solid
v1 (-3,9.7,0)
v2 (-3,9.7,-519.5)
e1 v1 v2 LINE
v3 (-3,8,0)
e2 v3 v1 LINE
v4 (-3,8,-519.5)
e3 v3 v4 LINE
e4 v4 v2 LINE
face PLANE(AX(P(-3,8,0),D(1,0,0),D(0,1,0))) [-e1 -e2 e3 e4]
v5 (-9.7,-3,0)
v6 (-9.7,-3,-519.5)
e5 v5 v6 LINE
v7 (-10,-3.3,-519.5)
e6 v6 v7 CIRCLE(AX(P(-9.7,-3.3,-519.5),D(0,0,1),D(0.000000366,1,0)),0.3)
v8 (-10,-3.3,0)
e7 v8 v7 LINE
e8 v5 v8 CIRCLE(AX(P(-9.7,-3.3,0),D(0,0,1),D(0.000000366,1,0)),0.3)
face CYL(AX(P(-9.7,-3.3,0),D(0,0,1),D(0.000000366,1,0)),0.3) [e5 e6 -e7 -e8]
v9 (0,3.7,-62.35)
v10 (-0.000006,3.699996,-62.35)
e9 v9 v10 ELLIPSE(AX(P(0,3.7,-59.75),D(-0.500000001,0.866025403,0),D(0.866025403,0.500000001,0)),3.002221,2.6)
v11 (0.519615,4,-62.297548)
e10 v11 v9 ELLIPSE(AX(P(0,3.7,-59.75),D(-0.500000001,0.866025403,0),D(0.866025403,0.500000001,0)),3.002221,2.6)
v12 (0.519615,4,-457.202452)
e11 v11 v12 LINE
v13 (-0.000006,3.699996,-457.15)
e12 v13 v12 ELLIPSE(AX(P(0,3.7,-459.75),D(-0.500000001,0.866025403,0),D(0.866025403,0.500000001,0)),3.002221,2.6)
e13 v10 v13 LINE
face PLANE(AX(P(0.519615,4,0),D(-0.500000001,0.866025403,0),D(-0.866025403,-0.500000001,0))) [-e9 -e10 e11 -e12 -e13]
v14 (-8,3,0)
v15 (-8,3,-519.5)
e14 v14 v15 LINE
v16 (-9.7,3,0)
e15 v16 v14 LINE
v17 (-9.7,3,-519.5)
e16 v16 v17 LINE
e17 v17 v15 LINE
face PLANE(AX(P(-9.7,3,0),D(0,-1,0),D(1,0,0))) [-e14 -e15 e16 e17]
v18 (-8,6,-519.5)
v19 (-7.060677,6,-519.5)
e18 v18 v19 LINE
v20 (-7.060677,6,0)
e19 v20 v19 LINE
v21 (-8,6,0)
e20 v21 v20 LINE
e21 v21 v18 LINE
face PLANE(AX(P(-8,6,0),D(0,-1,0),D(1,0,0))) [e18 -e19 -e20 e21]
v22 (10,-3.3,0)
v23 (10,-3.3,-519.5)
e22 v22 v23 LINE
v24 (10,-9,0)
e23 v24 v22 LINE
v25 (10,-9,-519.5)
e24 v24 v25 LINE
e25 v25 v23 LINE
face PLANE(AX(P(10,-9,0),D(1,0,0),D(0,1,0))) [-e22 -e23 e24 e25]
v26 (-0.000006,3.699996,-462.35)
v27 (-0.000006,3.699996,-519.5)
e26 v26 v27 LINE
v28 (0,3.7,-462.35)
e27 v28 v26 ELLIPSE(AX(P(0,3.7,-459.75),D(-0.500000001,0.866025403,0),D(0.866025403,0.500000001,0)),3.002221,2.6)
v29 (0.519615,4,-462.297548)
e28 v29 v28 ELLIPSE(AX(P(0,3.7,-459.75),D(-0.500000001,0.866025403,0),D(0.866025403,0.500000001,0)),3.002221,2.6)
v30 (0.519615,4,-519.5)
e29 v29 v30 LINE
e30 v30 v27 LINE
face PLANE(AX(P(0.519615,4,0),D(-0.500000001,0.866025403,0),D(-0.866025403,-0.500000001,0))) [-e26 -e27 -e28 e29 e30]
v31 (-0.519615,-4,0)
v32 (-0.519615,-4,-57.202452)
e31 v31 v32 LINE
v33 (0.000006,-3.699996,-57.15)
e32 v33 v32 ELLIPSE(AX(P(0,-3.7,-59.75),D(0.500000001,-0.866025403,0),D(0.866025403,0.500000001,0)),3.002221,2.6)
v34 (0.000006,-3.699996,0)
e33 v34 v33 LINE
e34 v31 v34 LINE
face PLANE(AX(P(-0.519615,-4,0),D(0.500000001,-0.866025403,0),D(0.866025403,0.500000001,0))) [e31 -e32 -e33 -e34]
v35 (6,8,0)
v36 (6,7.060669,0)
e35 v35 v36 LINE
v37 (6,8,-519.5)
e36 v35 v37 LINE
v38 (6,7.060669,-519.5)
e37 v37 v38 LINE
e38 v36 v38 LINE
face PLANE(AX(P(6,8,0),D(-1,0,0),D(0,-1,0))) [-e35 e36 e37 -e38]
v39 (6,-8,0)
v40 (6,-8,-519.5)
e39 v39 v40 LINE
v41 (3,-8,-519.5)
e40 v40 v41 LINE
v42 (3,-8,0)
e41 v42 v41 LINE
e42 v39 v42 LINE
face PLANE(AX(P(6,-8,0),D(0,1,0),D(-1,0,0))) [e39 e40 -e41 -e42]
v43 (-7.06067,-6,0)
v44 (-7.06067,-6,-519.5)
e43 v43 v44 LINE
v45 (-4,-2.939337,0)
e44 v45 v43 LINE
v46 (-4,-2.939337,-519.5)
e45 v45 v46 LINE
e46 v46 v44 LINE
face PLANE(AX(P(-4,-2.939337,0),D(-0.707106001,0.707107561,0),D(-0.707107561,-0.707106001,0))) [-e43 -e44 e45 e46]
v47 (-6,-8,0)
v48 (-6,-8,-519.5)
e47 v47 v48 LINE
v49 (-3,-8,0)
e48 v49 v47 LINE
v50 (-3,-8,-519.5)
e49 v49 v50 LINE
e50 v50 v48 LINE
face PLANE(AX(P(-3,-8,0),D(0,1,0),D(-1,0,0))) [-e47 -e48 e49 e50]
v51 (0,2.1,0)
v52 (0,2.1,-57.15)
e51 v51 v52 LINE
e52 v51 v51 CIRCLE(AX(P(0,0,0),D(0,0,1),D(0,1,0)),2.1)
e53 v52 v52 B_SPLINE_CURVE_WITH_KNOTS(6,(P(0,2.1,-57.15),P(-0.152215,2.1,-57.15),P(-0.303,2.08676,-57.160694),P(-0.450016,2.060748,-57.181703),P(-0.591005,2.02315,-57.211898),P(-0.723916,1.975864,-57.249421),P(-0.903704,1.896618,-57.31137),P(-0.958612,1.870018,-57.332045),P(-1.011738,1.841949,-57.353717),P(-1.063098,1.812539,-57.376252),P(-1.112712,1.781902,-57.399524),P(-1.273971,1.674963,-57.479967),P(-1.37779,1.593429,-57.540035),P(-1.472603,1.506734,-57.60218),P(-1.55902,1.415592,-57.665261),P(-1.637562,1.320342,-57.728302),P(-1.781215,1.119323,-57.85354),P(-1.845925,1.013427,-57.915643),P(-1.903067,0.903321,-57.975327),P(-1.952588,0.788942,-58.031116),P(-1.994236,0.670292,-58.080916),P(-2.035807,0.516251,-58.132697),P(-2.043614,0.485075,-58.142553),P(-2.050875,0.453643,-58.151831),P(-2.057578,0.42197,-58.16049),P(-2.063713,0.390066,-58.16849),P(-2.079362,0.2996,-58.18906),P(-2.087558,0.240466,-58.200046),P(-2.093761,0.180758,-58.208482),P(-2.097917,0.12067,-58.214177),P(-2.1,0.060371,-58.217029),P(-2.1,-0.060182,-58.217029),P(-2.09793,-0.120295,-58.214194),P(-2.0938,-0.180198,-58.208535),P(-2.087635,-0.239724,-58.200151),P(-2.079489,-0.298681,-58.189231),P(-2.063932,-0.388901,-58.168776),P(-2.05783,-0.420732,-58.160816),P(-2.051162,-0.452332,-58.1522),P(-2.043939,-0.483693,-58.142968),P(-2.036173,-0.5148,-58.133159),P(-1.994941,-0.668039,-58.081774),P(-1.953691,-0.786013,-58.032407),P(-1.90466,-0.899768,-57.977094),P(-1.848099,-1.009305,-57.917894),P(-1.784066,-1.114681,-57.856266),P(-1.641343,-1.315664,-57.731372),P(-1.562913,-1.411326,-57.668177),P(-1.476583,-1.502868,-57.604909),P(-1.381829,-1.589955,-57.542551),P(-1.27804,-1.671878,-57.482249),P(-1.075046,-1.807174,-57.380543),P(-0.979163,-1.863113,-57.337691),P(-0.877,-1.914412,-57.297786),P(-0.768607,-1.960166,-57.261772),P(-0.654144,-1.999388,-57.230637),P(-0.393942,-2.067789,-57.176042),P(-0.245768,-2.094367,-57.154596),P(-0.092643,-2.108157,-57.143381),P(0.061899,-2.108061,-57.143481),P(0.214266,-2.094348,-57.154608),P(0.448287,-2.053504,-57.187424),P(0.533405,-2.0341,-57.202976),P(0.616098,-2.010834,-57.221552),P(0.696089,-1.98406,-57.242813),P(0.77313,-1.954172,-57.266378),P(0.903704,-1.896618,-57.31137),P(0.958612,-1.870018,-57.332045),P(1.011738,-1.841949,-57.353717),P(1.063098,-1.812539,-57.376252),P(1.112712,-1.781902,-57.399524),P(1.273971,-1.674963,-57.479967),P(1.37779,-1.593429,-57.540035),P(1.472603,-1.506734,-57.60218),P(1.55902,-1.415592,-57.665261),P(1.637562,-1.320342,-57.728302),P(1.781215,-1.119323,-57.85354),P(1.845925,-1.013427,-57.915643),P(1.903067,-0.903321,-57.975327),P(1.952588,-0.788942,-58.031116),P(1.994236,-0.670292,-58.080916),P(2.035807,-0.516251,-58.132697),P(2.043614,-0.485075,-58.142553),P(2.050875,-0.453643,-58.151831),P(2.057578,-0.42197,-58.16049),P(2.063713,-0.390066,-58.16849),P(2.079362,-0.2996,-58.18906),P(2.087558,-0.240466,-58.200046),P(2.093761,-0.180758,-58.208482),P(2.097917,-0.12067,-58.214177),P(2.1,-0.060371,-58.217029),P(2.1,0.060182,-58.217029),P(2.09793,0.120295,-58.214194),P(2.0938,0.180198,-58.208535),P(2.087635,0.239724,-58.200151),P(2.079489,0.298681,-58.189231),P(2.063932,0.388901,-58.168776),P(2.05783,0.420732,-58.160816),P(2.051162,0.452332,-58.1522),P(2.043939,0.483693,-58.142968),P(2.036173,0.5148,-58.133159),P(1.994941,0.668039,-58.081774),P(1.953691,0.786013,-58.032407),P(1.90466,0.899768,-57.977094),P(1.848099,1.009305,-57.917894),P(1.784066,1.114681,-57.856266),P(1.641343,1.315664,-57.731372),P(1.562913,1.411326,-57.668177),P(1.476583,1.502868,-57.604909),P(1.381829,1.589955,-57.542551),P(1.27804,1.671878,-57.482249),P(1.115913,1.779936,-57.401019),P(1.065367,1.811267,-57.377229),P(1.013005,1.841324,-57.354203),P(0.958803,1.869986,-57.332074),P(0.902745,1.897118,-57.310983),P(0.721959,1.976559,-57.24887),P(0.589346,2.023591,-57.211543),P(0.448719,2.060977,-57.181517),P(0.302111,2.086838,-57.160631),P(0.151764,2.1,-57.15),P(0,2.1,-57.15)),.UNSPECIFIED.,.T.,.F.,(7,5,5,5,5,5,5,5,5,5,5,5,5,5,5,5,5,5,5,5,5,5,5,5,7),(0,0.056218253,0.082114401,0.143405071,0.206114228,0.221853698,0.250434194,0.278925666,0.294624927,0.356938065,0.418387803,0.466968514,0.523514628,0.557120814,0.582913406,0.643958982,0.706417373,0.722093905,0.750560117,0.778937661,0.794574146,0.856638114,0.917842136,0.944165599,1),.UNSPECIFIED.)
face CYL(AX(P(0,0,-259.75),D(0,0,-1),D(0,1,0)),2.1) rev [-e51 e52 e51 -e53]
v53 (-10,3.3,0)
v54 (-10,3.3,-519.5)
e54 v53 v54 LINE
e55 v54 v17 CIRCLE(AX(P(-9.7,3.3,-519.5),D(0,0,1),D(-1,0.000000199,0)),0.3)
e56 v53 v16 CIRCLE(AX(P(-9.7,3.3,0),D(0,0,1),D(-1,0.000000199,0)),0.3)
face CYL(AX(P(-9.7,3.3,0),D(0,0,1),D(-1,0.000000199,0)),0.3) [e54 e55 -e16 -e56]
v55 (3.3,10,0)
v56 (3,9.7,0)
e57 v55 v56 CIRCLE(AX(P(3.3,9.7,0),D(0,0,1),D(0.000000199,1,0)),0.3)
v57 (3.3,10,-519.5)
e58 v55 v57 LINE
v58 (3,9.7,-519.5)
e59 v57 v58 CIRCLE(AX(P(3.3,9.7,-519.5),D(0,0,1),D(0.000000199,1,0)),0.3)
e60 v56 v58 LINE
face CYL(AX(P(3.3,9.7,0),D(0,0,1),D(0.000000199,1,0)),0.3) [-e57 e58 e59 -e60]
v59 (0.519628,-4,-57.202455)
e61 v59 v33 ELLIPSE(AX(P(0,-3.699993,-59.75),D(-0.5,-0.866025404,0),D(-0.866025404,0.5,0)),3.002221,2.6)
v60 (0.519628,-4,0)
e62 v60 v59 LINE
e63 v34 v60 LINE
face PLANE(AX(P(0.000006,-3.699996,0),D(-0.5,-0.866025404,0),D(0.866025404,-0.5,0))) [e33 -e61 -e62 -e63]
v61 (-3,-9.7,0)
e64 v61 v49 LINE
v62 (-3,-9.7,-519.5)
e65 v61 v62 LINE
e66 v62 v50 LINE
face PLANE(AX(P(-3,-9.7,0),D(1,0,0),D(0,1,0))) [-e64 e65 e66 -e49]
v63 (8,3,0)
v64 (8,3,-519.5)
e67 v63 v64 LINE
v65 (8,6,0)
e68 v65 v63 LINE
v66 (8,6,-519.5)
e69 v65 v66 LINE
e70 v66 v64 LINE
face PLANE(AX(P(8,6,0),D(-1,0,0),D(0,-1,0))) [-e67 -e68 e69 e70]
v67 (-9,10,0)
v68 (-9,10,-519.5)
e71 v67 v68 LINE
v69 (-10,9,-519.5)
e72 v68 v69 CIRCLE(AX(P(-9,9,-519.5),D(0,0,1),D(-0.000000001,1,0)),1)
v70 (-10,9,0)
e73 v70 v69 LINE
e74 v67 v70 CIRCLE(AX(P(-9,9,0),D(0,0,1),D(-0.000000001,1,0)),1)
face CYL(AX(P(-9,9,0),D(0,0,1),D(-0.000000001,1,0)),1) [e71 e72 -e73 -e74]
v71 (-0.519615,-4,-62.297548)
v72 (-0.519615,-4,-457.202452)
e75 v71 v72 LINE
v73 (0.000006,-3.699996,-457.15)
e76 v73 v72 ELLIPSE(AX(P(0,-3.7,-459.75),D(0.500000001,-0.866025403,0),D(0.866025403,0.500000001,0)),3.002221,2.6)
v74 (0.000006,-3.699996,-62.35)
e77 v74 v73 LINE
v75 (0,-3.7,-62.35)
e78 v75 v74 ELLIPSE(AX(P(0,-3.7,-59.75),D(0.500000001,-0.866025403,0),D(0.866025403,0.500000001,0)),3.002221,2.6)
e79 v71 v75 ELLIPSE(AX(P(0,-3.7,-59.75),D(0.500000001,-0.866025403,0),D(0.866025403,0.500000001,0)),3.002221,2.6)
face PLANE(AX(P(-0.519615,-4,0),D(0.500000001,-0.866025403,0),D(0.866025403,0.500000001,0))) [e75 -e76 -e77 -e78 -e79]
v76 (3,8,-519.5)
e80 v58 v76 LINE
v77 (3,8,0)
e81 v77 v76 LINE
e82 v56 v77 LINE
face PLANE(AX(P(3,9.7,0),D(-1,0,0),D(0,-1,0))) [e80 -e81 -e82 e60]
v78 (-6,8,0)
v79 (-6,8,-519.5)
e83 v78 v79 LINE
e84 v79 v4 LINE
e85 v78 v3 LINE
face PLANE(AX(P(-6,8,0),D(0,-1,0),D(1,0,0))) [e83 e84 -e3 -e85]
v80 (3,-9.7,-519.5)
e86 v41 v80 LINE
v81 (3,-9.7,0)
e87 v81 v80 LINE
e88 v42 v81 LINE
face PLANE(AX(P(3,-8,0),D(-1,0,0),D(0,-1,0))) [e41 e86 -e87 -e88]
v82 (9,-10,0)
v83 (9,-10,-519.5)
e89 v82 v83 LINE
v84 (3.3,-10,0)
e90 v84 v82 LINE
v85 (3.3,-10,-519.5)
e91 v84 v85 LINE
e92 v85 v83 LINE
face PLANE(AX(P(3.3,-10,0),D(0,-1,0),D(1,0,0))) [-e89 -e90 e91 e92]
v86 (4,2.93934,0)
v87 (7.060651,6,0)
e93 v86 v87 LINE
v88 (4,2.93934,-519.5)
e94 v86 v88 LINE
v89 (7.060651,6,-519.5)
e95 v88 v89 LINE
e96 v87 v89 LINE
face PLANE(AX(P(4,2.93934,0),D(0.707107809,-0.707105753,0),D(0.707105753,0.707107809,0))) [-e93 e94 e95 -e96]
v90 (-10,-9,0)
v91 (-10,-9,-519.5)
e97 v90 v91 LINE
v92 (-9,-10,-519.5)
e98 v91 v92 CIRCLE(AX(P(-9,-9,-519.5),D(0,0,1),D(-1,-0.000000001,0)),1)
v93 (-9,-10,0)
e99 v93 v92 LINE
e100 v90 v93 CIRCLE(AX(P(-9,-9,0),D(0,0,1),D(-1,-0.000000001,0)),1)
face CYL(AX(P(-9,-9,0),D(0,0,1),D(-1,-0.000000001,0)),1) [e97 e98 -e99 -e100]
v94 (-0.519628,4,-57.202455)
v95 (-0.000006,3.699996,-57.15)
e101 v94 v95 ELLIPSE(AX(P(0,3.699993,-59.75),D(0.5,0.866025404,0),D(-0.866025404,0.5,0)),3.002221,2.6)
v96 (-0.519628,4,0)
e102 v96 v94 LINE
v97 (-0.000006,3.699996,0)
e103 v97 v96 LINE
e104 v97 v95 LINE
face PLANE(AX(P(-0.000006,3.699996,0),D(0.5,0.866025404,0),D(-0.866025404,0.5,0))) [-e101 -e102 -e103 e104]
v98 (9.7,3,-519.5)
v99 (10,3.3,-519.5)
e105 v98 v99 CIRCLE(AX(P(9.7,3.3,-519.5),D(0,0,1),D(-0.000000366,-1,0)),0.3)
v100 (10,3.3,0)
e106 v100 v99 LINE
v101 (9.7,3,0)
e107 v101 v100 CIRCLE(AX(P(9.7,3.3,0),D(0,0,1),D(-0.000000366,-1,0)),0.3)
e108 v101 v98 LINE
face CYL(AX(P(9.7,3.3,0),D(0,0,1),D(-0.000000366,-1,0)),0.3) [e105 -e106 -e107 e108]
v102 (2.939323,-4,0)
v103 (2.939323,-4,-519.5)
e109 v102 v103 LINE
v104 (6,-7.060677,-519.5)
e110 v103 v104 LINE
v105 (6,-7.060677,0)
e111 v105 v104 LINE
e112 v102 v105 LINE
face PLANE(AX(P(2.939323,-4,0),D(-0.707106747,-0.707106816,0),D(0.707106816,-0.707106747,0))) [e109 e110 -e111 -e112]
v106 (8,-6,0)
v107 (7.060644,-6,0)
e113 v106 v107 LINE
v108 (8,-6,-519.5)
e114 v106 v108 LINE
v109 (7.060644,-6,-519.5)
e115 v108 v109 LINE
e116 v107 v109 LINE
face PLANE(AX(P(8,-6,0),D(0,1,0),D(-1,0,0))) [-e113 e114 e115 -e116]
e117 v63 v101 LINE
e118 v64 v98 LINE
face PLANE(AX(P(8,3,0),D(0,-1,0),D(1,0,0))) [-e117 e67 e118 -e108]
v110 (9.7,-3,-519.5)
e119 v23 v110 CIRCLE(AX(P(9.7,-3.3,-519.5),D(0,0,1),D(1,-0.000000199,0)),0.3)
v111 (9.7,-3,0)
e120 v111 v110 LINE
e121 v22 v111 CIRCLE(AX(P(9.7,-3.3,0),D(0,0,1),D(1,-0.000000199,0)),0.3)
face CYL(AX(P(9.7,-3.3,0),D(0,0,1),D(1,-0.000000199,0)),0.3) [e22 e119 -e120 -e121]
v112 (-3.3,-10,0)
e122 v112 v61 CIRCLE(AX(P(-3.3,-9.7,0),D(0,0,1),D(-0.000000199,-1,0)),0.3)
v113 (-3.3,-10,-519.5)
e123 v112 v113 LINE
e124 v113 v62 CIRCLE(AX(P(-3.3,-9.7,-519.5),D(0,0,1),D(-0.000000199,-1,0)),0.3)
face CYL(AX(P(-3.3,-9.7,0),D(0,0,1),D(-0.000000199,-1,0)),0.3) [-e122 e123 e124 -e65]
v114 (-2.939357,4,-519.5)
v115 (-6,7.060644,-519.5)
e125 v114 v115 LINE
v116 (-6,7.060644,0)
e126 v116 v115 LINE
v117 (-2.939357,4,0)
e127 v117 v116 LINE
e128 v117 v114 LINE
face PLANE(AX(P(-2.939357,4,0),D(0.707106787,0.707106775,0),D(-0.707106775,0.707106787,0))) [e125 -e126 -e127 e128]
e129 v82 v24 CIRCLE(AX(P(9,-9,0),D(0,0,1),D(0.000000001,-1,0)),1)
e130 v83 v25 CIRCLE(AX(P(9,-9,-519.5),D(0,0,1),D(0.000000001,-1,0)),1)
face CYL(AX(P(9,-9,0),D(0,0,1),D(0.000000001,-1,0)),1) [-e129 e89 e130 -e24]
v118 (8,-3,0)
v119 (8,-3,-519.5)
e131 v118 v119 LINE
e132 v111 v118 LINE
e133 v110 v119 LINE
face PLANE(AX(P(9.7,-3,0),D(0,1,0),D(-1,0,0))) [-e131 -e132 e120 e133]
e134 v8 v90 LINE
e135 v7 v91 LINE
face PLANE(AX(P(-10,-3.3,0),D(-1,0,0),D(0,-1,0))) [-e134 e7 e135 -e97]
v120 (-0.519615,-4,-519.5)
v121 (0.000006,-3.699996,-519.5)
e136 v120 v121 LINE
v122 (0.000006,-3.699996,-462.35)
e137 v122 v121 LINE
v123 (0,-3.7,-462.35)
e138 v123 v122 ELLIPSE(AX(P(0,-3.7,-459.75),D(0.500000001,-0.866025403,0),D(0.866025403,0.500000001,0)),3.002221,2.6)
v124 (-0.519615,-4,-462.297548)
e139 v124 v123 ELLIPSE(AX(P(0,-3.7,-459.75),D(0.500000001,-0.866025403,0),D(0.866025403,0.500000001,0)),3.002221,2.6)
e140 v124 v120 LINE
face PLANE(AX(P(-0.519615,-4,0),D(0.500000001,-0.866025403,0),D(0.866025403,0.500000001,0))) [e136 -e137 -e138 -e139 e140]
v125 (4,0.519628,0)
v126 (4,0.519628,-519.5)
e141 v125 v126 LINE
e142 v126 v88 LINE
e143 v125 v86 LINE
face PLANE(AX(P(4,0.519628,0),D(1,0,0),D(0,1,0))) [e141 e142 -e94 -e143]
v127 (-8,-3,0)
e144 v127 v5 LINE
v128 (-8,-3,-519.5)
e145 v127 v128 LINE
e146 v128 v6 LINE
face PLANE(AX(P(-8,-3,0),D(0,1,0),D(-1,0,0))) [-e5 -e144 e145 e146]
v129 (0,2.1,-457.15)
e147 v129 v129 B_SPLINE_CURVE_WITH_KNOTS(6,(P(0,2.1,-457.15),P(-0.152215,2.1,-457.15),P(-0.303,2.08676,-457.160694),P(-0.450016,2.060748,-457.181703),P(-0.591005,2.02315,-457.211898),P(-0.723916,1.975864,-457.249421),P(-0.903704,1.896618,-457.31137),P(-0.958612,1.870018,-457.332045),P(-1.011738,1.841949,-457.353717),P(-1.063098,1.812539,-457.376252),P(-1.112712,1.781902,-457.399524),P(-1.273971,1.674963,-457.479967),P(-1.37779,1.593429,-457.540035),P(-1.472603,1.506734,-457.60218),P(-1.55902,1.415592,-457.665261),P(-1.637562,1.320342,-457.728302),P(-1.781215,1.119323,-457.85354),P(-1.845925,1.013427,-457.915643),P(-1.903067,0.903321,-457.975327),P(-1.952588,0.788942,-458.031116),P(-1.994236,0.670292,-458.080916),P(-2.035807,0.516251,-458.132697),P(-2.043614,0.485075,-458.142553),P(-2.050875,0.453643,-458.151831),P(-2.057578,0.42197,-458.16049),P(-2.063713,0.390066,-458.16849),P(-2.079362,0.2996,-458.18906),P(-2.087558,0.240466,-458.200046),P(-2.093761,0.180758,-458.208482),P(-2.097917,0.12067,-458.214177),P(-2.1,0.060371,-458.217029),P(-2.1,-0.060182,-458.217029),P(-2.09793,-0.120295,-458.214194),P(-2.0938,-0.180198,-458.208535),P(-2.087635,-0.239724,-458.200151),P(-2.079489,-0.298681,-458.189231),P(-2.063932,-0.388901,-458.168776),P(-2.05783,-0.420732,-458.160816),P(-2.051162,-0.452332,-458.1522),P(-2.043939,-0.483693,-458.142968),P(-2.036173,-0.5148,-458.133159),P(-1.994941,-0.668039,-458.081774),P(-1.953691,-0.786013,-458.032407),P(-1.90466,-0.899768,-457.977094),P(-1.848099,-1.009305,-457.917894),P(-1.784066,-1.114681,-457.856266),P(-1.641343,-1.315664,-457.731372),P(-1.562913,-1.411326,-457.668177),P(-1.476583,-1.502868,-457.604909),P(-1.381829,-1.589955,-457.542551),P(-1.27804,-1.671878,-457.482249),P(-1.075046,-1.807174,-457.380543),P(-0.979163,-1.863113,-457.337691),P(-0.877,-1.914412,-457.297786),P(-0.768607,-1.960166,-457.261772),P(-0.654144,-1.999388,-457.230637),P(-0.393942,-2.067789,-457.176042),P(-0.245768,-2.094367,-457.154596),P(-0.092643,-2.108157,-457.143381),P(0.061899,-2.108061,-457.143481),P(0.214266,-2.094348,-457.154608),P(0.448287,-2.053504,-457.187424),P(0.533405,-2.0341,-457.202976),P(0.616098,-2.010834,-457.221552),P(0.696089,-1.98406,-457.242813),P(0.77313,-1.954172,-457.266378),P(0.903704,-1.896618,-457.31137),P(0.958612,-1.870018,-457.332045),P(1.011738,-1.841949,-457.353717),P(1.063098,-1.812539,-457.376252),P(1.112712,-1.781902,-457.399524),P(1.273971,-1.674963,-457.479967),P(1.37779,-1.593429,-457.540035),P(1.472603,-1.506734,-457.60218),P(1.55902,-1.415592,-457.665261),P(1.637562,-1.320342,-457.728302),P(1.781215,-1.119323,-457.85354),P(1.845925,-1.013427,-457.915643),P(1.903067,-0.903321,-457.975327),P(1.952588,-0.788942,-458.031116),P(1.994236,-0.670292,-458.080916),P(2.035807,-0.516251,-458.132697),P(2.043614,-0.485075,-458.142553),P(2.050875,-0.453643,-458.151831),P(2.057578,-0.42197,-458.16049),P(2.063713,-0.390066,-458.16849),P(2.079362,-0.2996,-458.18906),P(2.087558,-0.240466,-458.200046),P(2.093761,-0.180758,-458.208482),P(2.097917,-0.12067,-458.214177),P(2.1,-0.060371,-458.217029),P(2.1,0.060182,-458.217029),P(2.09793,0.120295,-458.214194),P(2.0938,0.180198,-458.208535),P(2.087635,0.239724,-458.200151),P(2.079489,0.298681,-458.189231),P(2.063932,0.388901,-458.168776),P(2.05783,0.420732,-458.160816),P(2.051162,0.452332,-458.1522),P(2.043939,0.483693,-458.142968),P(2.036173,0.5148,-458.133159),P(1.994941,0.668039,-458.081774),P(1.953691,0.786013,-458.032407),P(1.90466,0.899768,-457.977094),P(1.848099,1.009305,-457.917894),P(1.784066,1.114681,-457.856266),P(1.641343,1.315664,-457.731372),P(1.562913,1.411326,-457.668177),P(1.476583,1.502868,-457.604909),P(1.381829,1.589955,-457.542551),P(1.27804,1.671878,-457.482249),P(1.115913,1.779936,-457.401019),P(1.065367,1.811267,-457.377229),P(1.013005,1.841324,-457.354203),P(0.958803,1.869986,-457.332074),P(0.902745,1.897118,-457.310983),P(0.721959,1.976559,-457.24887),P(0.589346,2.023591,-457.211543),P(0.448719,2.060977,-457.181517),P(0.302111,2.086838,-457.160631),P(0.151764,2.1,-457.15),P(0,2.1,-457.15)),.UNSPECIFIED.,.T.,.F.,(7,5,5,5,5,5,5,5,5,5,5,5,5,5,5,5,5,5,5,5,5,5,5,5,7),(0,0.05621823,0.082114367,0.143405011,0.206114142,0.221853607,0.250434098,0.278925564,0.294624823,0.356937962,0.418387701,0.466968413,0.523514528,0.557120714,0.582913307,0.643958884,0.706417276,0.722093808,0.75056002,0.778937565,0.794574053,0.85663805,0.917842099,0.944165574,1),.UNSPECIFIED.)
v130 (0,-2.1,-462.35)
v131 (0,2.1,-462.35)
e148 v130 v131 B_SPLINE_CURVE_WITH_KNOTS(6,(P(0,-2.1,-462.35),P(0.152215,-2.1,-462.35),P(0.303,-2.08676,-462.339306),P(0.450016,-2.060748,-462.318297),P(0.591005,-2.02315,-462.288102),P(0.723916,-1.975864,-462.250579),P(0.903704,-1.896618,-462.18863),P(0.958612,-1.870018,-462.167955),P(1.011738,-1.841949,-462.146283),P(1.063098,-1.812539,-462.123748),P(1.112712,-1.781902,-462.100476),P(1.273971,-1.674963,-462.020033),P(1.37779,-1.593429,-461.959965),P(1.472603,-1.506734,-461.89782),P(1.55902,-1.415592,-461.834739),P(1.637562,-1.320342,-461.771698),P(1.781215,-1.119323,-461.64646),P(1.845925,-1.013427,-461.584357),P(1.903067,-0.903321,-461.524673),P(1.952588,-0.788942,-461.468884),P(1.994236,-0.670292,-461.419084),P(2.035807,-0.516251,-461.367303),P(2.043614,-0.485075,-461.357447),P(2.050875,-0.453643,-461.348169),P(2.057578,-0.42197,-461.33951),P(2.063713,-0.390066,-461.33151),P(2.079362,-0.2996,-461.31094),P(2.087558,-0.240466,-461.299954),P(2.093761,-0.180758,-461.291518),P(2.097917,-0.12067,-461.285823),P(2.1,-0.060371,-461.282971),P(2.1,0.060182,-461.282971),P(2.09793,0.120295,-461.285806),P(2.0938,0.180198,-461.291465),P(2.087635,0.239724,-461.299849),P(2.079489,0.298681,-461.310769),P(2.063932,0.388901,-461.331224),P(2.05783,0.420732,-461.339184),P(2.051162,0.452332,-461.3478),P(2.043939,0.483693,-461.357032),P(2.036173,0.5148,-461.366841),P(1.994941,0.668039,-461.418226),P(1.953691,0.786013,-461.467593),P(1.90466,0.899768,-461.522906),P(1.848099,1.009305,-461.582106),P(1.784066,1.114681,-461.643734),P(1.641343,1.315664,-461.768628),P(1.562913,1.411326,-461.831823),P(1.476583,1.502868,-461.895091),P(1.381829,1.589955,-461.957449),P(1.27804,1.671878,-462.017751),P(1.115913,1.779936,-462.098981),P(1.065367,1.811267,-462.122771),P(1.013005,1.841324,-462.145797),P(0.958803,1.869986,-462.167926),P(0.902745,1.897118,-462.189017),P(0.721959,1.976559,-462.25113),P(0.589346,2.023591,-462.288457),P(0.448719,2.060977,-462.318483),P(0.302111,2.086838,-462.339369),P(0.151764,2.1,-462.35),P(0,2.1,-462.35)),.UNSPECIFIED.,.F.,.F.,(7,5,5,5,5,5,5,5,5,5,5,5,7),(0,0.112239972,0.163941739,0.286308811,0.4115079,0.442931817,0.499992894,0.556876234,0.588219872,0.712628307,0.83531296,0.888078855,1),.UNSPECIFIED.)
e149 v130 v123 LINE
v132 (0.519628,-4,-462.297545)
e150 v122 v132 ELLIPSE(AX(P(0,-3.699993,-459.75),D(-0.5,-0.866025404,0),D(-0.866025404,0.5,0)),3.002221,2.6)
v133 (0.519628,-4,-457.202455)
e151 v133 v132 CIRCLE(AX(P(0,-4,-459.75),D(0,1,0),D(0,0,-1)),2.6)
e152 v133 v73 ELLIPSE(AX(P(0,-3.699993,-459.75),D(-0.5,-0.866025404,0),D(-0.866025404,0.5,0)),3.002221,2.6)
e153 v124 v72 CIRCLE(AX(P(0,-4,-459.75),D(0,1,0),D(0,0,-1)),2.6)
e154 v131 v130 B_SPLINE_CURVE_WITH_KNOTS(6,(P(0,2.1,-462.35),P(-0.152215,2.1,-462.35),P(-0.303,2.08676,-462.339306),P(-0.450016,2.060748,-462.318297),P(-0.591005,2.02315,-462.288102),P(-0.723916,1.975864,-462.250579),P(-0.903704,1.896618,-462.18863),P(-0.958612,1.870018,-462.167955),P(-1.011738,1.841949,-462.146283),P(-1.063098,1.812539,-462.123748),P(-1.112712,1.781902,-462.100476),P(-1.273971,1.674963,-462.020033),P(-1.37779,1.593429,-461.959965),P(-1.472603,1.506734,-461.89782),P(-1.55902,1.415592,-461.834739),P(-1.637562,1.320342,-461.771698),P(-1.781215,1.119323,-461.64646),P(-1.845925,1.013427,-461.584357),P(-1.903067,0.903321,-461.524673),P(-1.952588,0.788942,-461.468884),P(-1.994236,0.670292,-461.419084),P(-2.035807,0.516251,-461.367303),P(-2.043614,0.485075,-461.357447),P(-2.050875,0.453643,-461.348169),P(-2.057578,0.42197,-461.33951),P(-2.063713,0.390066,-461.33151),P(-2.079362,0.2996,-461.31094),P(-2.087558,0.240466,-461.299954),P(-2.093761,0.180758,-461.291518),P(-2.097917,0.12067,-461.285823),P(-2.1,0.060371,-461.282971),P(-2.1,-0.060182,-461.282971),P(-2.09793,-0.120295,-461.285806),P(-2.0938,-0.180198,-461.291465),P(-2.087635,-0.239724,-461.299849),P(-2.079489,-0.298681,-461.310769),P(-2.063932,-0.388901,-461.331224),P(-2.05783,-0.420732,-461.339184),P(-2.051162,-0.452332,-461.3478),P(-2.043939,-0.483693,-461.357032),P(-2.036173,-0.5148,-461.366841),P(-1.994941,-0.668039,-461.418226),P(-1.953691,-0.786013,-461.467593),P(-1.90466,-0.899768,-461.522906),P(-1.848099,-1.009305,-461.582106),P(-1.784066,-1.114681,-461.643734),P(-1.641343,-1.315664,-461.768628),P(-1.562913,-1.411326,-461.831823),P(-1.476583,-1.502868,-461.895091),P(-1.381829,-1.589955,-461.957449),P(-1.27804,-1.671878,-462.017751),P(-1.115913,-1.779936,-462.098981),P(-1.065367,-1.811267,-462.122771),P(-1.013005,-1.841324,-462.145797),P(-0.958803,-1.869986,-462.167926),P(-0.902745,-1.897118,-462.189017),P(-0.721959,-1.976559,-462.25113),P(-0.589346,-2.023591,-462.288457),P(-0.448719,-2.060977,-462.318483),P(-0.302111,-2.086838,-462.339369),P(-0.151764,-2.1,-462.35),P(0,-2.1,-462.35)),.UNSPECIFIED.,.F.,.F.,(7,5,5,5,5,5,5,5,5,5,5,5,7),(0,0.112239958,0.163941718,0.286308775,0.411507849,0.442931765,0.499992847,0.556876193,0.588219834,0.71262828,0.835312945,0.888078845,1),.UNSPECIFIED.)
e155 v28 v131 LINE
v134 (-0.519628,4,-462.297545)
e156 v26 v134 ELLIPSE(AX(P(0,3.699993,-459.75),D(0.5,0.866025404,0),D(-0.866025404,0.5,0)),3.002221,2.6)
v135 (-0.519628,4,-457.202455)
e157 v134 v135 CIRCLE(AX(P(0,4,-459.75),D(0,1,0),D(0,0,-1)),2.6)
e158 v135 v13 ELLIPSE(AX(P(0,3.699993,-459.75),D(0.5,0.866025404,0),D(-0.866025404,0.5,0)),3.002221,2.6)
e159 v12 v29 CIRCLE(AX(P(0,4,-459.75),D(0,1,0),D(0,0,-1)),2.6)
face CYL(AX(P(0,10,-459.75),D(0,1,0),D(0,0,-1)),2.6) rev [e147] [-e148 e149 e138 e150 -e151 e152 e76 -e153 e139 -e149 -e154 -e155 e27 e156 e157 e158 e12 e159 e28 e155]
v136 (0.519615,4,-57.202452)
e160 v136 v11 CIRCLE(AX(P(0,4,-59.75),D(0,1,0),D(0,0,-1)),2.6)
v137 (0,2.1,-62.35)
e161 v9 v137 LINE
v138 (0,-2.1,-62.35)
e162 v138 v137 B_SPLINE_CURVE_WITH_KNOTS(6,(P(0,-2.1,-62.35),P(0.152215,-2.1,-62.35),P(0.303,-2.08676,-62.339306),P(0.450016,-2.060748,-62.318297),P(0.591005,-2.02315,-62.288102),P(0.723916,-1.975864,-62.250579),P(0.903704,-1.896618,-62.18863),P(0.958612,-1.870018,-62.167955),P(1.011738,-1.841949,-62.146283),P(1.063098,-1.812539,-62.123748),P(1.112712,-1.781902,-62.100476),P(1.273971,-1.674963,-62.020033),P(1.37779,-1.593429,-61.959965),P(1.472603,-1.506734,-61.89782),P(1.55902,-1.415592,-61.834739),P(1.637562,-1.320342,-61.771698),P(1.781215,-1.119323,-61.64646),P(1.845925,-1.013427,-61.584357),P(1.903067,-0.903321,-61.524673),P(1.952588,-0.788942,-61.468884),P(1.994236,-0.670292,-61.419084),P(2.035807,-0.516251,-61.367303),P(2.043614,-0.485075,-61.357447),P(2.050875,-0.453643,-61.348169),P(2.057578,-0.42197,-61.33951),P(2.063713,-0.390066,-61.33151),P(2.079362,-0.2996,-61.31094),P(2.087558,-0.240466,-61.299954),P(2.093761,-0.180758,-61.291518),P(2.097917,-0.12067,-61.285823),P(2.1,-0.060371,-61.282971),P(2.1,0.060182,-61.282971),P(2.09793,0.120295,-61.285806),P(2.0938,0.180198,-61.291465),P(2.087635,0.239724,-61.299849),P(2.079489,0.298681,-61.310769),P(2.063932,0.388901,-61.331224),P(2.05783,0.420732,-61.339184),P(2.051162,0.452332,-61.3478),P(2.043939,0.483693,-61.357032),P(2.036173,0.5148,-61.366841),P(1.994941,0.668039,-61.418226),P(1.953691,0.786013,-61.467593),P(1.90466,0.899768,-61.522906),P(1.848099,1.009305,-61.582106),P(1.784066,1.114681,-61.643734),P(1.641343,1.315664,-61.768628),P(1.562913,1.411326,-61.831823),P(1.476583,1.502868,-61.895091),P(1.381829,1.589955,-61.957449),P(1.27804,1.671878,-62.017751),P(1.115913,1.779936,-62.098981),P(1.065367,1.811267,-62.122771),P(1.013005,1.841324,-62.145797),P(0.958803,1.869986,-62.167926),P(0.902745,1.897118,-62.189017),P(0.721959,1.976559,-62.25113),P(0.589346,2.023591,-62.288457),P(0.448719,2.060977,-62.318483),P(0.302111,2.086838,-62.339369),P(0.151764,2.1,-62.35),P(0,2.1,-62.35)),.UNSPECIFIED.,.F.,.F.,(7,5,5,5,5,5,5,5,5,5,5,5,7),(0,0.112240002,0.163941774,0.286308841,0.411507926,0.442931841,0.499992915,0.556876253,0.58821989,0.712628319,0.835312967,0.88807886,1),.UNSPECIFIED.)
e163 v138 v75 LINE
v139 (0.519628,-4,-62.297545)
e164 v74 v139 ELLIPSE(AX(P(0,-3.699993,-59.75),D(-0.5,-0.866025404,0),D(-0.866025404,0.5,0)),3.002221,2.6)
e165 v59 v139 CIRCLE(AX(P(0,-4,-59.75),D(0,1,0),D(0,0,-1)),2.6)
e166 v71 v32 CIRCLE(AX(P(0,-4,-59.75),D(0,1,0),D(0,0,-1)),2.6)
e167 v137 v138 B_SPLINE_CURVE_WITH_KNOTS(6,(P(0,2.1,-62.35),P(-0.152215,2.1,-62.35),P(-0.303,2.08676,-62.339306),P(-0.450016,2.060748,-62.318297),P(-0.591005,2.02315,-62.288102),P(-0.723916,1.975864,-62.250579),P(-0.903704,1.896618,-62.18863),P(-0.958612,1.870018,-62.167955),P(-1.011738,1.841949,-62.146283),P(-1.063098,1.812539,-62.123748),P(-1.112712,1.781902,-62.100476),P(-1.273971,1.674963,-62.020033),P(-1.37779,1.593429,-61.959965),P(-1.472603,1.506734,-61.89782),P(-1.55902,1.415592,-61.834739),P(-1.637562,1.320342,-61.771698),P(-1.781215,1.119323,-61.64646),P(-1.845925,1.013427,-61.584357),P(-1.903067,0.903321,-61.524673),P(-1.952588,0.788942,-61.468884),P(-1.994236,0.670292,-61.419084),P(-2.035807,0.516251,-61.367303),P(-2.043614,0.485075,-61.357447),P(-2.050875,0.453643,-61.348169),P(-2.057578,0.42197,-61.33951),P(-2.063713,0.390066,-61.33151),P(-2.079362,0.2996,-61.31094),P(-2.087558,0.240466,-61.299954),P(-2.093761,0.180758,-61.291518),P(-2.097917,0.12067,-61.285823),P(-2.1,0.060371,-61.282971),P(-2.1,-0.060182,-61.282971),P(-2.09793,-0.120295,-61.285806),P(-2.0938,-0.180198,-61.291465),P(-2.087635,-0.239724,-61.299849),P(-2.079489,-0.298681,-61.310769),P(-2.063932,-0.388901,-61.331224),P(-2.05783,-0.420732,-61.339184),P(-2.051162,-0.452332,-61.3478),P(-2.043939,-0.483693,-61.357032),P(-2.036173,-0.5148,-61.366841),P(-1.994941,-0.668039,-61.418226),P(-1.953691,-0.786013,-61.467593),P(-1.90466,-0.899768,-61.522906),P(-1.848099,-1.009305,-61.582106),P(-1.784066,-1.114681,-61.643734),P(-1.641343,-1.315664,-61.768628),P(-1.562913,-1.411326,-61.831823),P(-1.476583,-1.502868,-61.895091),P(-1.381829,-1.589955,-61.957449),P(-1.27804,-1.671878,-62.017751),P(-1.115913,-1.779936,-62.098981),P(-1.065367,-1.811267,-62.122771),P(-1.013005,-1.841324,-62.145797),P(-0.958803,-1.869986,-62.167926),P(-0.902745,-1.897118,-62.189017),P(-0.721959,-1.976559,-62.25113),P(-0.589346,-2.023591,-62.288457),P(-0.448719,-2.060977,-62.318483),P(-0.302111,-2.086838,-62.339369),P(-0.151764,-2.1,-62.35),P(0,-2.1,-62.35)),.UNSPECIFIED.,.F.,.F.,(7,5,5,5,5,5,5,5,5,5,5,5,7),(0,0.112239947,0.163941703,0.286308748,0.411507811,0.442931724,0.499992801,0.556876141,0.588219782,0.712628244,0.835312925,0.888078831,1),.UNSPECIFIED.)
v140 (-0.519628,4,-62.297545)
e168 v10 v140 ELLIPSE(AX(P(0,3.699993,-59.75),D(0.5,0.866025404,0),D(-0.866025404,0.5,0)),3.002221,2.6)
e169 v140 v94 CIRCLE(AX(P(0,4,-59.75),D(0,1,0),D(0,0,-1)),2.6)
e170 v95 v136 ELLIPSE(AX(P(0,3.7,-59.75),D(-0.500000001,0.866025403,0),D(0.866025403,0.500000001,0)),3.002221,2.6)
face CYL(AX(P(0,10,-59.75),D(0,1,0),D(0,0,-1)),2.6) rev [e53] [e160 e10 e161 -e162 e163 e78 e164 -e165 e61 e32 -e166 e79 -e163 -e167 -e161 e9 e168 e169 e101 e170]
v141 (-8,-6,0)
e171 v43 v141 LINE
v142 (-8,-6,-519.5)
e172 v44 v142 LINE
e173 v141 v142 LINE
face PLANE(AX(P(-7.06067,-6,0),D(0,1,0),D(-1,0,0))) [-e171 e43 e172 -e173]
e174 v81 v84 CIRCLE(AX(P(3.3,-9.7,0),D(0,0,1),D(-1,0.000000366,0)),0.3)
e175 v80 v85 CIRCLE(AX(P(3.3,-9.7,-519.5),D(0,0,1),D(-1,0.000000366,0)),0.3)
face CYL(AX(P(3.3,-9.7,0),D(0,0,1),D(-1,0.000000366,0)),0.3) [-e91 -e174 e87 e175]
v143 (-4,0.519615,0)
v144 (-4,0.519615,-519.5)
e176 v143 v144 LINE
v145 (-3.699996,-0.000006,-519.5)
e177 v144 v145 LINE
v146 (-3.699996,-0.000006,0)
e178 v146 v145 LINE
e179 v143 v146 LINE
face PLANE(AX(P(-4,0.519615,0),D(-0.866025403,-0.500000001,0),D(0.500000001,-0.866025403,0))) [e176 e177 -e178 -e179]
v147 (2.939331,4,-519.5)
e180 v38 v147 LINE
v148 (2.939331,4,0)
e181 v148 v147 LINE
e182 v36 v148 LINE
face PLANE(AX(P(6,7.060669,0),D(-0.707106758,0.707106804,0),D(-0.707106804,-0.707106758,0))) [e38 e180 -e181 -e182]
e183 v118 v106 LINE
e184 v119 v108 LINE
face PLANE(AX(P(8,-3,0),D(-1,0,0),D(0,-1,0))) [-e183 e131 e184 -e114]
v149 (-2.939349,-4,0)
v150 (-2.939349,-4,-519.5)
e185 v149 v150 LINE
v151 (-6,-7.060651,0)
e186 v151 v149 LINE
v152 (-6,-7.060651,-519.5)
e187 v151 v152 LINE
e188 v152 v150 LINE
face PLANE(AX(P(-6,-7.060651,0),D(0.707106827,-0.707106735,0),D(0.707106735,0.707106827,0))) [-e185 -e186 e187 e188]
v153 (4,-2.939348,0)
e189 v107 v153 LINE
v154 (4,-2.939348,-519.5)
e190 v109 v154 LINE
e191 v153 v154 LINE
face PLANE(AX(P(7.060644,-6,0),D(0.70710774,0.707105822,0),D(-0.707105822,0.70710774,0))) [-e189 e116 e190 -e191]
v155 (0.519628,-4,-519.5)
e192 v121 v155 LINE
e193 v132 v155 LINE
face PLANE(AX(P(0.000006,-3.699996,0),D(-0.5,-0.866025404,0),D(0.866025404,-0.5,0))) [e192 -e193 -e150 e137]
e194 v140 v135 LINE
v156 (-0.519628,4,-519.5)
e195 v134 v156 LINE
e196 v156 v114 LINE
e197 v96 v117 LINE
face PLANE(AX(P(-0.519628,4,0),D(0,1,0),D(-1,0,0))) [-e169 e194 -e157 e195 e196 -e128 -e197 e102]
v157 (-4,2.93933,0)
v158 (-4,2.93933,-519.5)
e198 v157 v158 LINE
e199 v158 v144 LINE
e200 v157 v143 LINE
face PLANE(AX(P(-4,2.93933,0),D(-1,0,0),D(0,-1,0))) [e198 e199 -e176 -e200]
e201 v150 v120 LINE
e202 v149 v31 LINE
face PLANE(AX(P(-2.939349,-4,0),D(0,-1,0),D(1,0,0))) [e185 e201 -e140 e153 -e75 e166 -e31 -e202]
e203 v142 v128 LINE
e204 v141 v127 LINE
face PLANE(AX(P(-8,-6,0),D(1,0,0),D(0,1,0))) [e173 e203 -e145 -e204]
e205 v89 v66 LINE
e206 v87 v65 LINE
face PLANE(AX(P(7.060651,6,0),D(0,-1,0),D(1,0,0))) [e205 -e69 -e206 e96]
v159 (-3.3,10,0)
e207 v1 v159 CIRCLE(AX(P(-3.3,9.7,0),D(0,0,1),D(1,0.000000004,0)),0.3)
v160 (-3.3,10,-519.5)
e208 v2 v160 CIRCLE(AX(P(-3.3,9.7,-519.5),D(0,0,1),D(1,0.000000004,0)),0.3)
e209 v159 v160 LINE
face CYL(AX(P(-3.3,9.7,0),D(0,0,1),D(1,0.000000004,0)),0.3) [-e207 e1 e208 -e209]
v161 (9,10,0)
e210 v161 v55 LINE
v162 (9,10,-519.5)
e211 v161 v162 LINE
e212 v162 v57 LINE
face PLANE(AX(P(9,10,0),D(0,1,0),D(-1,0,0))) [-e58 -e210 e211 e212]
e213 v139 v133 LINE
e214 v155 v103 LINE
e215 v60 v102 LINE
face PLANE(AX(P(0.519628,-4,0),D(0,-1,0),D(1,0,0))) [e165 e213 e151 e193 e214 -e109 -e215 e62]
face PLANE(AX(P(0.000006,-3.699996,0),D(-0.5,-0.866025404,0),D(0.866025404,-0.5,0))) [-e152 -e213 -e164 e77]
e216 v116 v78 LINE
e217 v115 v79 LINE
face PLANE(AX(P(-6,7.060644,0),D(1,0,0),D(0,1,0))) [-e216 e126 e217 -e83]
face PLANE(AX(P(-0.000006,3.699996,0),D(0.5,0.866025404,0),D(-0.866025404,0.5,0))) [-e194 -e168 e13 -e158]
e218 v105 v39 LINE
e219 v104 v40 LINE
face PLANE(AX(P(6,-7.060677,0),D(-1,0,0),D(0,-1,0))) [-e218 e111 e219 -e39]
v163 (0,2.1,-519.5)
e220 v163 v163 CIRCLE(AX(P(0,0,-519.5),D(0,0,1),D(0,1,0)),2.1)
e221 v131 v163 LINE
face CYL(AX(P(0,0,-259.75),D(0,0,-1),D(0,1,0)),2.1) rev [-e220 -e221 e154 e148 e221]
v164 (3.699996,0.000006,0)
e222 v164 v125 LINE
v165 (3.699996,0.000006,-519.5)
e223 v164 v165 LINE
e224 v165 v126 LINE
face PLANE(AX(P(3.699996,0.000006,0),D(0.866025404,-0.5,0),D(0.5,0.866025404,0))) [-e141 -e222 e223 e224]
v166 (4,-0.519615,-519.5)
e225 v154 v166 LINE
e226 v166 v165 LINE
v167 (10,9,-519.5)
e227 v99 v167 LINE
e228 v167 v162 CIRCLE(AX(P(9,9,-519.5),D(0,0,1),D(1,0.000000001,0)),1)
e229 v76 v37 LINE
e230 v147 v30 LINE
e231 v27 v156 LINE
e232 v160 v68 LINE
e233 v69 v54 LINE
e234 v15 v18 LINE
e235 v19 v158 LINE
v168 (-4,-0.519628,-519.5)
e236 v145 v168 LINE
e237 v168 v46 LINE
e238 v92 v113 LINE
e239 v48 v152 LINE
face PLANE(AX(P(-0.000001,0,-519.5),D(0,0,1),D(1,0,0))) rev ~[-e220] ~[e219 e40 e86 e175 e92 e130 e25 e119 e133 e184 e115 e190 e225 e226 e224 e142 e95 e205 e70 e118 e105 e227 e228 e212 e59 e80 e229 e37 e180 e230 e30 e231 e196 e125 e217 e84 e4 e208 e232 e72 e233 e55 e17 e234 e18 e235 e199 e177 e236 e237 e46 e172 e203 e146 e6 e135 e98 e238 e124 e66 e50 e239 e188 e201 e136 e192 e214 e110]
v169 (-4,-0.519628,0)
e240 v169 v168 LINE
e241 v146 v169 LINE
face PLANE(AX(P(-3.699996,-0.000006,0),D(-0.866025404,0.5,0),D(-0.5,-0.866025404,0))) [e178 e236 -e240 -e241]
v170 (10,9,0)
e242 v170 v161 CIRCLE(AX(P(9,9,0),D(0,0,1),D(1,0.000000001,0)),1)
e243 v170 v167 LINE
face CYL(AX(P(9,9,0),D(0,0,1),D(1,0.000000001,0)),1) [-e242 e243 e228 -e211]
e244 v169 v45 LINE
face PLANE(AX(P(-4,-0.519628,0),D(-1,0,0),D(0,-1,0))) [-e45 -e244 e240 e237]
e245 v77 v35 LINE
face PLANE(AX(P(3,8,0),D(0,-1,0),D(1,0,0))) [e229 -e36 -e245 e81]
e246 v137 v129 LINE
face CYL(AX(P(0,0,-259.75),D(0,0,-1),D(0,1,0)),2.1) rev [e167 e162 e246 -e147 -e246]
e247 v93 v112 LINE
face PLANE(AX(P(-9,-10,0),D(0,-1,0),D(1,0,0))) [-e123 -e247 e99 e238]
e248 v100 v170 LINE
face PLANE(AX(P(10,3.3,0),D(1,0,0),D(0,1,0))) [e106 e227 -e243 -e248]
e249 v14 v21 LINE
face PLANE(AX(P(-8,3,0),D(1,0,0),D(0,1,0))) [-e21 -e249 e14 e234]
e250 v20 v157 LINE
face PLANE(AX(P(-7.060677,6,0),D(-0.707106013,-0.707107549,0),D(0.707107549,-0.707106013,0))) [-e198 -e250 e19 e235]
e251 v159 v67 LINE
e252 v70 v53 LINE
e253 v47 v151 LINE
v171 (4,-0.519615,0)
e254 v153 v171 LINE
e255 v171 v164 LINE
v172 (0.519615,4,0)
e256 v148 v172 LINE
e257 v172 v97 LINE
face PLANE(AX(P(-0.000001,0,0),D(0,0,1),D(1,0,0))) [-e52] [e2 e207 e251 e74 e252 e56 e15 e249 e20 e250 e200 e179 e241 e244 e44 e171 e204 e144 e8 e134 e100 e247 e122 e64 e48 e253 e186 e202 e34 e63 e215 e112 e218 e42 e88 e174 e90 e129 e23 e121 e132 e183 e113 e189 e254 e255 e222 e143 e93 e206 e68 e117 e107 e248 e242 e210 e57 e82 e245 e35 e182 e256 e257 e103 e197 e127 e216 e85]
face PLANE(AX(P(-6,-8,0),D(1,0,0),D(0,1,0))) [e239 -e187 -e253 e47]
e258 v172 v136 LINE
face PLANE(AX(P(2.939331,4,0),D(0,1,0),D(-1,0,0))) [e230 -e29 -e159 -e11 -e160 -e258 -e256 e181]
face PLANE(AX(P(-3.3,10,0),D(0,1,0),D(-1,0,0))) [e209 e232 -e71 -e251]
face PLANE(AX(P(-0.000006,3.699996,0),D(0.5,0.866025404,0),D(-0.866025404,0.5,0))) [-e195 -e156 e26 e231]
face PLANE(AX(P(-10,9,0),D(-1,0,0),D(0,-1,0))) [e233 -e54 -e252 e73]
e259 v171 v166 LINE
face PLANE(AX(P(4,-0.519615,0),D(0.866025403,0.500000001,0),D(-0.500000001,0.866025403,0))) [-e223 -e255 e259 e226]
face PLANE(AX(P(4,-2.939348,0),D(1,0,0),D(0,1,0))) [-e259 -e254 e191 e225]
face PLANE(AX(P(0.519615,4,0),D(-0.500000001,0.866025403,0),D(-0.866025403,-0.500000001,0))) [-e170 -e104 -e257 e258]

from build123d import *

# Parameters (mm, degrees)
BOSS_EXTRUDE1_DEPTH = 519.5
SKETCH2_W           = 519.5
SKETCH2_H           = 2.1
SKETCH4_R           = 2.6
CUT_EXTRUDE2_DEPTH  = 20


with BuildPart() as part:
    # Sketch1 → Boss-Extrude1 (new body)
    with BuildSketch(Plane.XY):
        with BuildLine():
            Line((-10, 9), (-10, 3.29999995))
            ThreePointArc((-10, 3.29999995), (-9.912132049, 3.087867916), (-9.7, 3))
            Line((-9.7, 3), (-8, 3))
            Line((-8, 3), (-8, 6))
            Line((-8, 6), (-7.060677, 6))
            Line((-7.060677, 6), (-4, 2.93932965))
            Line((-4, 2.93932965), (-4, 0.519615242))
            Line((-4, 0.519615242), (-3.699996283, -6.437e-06))
            Line((-3.699996283, -6.437e-06), (-4, -0.519628117))
            Line((-4, -0.519628117), (-4, -2.93933725))
            Line((-4, -2.93933725), (-7.0606695, -6))
            Line((-7.0606695, -6), (-8, -6))
            Line((-8, -6), (-8, -3))
            Line((-8, -3), (-9.7, -3))
            ThreePointArc((-9.7, -3), (-9.912132049, -3.087867916), (-10, -3.29999995))
            Line((-10, -3.29999995), (-10, -9))
            ThreePointArc((-10, -9), (-9.707106781, -9.707106781), (-9, -10))
            Line((-9, -10), (-3.29999995, -10))
            ThreePointArc((-3.29999995, -10), (-3.087867916, -9.912132049), (-3, -9.7))
            Line((-3, -9.7), (-3, -8))
            Line((-3, -8), (-6, -8))
            Line((-6, -8), (-6, -7.0606515))
            Line((-6, -7.0606515), (-2.9393489, -4))
            Line((-2.9393489, -4), (-0.519615242, -4))
            Line((-0.519615242, -4), (6.437e-06, -3.699996283))
            Line((6.437e-06, -3.699996283), (0.519628117, -4))
            Line((0.519628117, -4), (2.9393227, -4))
            Line((2.9393227, -4), (6, -7.060677))
            Line((6, -7.060677), (6, -8))
            Line((6, -8), (3, -8))
            Line((3, -8), (3, -9.7))
            ThreePointArc((3, -9.7), (3.087867916, -9.912132049), (3.29999995, -10))
            Line((3.29999995, -10), (9, -10))
            ThreePointArc((9, -10), (9.707106781, -9.707106781), (10, -9))
            Line((10, -9), (10, -3.29999995))
            ThreePointArc((10, -3.29999995), (9.912132049, -3.087867916), (9.7, -3))
            Line((9.7, -3), (8, -3))
            Line((8, -3), (8, -6))
            Line((8, -6), (7.0606435, -6))
            Line((7.0606435, -6), (4, -2.9393482))
            Line((4, -2.9393482), (4, -0.519615242))
            Line((4, -0.519615242), (3.699996283, 6.437e-06))
            Line((3.699996283, 6.437e-06), (4, 0.519628117))
            Line((4, 0.519628117), (4, 2.9393401))
            Line((4, 2.9393401), (7.060651, 6))
            Line((7.060651, 6), (8, 6))
            Line((8, 6), (8, 3))
            Line((8, 3), (9.7, 3))
            ThreePointArc((9.7, 3), (9.912132049, 3.087867916), (10, 3.29999995))
            Line((10, 3.29999995), (10, 9))
            ThreePointArc((10, 9), (9.707106781, 9.707106781), (9, 10))
            Line((9, 10), (3.29999995, 10))
            ThreePointArc((3.29999995, 10), (3.087867916, 9.912132049), (3, 9.7))
            Line((3, 9.7), (3, 8))
            Line((3, 8), (6, 8))
            Line((6, 8), (6, 7.060669))
            Line((6, 7.060669), (2.9393308, 4))
            Line((2.9393308, 4), (0.519615242, 4))
            Line((0.519615242, 4), (-6.437e-06, 3.699996283))
            Line((-6.437e-06, 3.699996283), (-0.519628117, 4))
            Line((-0.519628117, 4), (-2.93935655, 4))
            Line((-2.93935655, 4), (-6, 7.0606435))
            Line((-6, 7.0606435), (-6, 8))
            Line((-6, 8), (-3, 8))
            Line((-3, 8), (-3, 9.7))
            ThreePointArc((-3, 9.7), (-3.087867966, 9.912132034), (-3.3, 10))
            Line((-3.3, 10), (-9, 10))
            ThreePointArc((-9, 10), (-9.707106781, 9.707106781), (-10, 9))
        make_face()
    extrude(amount=-BOSS_EXTRUDE1_DEPTH)

    # Sketch2 → Cut-Revolve1 (revolve, cut)
    with BuildSketch(Plane(origin=(0, 0, 0), x_dir=(0, 0, -1), z_dir=(1, 0, 0))):
        with Locations((259.75, 1.05)):
            Rectangle(SKETCH2_W, SKETCH2_H)
    revolve(axis=Axis((0, 0, -519.5), (0, 0, 1)), mode=Mode.SUBTRACT)

    # Sketch4 → Cut-Extrude2 (cut)
    with BuildSketch(Plane(origin=(0, 10, 0), x_dir=(0, 0, -1), z_dir=(0, -1, 0))):
        with Locations((459.75, 0)):
            Circle(SKETCH4_R)
        with Locations((59.75, 0)):
            Circle(SKETCH4_R)
    extrude(amount=CUT_EXTRUDE2_DEPTH, mode=Mode.SUBTRACT)


solid = part.part
